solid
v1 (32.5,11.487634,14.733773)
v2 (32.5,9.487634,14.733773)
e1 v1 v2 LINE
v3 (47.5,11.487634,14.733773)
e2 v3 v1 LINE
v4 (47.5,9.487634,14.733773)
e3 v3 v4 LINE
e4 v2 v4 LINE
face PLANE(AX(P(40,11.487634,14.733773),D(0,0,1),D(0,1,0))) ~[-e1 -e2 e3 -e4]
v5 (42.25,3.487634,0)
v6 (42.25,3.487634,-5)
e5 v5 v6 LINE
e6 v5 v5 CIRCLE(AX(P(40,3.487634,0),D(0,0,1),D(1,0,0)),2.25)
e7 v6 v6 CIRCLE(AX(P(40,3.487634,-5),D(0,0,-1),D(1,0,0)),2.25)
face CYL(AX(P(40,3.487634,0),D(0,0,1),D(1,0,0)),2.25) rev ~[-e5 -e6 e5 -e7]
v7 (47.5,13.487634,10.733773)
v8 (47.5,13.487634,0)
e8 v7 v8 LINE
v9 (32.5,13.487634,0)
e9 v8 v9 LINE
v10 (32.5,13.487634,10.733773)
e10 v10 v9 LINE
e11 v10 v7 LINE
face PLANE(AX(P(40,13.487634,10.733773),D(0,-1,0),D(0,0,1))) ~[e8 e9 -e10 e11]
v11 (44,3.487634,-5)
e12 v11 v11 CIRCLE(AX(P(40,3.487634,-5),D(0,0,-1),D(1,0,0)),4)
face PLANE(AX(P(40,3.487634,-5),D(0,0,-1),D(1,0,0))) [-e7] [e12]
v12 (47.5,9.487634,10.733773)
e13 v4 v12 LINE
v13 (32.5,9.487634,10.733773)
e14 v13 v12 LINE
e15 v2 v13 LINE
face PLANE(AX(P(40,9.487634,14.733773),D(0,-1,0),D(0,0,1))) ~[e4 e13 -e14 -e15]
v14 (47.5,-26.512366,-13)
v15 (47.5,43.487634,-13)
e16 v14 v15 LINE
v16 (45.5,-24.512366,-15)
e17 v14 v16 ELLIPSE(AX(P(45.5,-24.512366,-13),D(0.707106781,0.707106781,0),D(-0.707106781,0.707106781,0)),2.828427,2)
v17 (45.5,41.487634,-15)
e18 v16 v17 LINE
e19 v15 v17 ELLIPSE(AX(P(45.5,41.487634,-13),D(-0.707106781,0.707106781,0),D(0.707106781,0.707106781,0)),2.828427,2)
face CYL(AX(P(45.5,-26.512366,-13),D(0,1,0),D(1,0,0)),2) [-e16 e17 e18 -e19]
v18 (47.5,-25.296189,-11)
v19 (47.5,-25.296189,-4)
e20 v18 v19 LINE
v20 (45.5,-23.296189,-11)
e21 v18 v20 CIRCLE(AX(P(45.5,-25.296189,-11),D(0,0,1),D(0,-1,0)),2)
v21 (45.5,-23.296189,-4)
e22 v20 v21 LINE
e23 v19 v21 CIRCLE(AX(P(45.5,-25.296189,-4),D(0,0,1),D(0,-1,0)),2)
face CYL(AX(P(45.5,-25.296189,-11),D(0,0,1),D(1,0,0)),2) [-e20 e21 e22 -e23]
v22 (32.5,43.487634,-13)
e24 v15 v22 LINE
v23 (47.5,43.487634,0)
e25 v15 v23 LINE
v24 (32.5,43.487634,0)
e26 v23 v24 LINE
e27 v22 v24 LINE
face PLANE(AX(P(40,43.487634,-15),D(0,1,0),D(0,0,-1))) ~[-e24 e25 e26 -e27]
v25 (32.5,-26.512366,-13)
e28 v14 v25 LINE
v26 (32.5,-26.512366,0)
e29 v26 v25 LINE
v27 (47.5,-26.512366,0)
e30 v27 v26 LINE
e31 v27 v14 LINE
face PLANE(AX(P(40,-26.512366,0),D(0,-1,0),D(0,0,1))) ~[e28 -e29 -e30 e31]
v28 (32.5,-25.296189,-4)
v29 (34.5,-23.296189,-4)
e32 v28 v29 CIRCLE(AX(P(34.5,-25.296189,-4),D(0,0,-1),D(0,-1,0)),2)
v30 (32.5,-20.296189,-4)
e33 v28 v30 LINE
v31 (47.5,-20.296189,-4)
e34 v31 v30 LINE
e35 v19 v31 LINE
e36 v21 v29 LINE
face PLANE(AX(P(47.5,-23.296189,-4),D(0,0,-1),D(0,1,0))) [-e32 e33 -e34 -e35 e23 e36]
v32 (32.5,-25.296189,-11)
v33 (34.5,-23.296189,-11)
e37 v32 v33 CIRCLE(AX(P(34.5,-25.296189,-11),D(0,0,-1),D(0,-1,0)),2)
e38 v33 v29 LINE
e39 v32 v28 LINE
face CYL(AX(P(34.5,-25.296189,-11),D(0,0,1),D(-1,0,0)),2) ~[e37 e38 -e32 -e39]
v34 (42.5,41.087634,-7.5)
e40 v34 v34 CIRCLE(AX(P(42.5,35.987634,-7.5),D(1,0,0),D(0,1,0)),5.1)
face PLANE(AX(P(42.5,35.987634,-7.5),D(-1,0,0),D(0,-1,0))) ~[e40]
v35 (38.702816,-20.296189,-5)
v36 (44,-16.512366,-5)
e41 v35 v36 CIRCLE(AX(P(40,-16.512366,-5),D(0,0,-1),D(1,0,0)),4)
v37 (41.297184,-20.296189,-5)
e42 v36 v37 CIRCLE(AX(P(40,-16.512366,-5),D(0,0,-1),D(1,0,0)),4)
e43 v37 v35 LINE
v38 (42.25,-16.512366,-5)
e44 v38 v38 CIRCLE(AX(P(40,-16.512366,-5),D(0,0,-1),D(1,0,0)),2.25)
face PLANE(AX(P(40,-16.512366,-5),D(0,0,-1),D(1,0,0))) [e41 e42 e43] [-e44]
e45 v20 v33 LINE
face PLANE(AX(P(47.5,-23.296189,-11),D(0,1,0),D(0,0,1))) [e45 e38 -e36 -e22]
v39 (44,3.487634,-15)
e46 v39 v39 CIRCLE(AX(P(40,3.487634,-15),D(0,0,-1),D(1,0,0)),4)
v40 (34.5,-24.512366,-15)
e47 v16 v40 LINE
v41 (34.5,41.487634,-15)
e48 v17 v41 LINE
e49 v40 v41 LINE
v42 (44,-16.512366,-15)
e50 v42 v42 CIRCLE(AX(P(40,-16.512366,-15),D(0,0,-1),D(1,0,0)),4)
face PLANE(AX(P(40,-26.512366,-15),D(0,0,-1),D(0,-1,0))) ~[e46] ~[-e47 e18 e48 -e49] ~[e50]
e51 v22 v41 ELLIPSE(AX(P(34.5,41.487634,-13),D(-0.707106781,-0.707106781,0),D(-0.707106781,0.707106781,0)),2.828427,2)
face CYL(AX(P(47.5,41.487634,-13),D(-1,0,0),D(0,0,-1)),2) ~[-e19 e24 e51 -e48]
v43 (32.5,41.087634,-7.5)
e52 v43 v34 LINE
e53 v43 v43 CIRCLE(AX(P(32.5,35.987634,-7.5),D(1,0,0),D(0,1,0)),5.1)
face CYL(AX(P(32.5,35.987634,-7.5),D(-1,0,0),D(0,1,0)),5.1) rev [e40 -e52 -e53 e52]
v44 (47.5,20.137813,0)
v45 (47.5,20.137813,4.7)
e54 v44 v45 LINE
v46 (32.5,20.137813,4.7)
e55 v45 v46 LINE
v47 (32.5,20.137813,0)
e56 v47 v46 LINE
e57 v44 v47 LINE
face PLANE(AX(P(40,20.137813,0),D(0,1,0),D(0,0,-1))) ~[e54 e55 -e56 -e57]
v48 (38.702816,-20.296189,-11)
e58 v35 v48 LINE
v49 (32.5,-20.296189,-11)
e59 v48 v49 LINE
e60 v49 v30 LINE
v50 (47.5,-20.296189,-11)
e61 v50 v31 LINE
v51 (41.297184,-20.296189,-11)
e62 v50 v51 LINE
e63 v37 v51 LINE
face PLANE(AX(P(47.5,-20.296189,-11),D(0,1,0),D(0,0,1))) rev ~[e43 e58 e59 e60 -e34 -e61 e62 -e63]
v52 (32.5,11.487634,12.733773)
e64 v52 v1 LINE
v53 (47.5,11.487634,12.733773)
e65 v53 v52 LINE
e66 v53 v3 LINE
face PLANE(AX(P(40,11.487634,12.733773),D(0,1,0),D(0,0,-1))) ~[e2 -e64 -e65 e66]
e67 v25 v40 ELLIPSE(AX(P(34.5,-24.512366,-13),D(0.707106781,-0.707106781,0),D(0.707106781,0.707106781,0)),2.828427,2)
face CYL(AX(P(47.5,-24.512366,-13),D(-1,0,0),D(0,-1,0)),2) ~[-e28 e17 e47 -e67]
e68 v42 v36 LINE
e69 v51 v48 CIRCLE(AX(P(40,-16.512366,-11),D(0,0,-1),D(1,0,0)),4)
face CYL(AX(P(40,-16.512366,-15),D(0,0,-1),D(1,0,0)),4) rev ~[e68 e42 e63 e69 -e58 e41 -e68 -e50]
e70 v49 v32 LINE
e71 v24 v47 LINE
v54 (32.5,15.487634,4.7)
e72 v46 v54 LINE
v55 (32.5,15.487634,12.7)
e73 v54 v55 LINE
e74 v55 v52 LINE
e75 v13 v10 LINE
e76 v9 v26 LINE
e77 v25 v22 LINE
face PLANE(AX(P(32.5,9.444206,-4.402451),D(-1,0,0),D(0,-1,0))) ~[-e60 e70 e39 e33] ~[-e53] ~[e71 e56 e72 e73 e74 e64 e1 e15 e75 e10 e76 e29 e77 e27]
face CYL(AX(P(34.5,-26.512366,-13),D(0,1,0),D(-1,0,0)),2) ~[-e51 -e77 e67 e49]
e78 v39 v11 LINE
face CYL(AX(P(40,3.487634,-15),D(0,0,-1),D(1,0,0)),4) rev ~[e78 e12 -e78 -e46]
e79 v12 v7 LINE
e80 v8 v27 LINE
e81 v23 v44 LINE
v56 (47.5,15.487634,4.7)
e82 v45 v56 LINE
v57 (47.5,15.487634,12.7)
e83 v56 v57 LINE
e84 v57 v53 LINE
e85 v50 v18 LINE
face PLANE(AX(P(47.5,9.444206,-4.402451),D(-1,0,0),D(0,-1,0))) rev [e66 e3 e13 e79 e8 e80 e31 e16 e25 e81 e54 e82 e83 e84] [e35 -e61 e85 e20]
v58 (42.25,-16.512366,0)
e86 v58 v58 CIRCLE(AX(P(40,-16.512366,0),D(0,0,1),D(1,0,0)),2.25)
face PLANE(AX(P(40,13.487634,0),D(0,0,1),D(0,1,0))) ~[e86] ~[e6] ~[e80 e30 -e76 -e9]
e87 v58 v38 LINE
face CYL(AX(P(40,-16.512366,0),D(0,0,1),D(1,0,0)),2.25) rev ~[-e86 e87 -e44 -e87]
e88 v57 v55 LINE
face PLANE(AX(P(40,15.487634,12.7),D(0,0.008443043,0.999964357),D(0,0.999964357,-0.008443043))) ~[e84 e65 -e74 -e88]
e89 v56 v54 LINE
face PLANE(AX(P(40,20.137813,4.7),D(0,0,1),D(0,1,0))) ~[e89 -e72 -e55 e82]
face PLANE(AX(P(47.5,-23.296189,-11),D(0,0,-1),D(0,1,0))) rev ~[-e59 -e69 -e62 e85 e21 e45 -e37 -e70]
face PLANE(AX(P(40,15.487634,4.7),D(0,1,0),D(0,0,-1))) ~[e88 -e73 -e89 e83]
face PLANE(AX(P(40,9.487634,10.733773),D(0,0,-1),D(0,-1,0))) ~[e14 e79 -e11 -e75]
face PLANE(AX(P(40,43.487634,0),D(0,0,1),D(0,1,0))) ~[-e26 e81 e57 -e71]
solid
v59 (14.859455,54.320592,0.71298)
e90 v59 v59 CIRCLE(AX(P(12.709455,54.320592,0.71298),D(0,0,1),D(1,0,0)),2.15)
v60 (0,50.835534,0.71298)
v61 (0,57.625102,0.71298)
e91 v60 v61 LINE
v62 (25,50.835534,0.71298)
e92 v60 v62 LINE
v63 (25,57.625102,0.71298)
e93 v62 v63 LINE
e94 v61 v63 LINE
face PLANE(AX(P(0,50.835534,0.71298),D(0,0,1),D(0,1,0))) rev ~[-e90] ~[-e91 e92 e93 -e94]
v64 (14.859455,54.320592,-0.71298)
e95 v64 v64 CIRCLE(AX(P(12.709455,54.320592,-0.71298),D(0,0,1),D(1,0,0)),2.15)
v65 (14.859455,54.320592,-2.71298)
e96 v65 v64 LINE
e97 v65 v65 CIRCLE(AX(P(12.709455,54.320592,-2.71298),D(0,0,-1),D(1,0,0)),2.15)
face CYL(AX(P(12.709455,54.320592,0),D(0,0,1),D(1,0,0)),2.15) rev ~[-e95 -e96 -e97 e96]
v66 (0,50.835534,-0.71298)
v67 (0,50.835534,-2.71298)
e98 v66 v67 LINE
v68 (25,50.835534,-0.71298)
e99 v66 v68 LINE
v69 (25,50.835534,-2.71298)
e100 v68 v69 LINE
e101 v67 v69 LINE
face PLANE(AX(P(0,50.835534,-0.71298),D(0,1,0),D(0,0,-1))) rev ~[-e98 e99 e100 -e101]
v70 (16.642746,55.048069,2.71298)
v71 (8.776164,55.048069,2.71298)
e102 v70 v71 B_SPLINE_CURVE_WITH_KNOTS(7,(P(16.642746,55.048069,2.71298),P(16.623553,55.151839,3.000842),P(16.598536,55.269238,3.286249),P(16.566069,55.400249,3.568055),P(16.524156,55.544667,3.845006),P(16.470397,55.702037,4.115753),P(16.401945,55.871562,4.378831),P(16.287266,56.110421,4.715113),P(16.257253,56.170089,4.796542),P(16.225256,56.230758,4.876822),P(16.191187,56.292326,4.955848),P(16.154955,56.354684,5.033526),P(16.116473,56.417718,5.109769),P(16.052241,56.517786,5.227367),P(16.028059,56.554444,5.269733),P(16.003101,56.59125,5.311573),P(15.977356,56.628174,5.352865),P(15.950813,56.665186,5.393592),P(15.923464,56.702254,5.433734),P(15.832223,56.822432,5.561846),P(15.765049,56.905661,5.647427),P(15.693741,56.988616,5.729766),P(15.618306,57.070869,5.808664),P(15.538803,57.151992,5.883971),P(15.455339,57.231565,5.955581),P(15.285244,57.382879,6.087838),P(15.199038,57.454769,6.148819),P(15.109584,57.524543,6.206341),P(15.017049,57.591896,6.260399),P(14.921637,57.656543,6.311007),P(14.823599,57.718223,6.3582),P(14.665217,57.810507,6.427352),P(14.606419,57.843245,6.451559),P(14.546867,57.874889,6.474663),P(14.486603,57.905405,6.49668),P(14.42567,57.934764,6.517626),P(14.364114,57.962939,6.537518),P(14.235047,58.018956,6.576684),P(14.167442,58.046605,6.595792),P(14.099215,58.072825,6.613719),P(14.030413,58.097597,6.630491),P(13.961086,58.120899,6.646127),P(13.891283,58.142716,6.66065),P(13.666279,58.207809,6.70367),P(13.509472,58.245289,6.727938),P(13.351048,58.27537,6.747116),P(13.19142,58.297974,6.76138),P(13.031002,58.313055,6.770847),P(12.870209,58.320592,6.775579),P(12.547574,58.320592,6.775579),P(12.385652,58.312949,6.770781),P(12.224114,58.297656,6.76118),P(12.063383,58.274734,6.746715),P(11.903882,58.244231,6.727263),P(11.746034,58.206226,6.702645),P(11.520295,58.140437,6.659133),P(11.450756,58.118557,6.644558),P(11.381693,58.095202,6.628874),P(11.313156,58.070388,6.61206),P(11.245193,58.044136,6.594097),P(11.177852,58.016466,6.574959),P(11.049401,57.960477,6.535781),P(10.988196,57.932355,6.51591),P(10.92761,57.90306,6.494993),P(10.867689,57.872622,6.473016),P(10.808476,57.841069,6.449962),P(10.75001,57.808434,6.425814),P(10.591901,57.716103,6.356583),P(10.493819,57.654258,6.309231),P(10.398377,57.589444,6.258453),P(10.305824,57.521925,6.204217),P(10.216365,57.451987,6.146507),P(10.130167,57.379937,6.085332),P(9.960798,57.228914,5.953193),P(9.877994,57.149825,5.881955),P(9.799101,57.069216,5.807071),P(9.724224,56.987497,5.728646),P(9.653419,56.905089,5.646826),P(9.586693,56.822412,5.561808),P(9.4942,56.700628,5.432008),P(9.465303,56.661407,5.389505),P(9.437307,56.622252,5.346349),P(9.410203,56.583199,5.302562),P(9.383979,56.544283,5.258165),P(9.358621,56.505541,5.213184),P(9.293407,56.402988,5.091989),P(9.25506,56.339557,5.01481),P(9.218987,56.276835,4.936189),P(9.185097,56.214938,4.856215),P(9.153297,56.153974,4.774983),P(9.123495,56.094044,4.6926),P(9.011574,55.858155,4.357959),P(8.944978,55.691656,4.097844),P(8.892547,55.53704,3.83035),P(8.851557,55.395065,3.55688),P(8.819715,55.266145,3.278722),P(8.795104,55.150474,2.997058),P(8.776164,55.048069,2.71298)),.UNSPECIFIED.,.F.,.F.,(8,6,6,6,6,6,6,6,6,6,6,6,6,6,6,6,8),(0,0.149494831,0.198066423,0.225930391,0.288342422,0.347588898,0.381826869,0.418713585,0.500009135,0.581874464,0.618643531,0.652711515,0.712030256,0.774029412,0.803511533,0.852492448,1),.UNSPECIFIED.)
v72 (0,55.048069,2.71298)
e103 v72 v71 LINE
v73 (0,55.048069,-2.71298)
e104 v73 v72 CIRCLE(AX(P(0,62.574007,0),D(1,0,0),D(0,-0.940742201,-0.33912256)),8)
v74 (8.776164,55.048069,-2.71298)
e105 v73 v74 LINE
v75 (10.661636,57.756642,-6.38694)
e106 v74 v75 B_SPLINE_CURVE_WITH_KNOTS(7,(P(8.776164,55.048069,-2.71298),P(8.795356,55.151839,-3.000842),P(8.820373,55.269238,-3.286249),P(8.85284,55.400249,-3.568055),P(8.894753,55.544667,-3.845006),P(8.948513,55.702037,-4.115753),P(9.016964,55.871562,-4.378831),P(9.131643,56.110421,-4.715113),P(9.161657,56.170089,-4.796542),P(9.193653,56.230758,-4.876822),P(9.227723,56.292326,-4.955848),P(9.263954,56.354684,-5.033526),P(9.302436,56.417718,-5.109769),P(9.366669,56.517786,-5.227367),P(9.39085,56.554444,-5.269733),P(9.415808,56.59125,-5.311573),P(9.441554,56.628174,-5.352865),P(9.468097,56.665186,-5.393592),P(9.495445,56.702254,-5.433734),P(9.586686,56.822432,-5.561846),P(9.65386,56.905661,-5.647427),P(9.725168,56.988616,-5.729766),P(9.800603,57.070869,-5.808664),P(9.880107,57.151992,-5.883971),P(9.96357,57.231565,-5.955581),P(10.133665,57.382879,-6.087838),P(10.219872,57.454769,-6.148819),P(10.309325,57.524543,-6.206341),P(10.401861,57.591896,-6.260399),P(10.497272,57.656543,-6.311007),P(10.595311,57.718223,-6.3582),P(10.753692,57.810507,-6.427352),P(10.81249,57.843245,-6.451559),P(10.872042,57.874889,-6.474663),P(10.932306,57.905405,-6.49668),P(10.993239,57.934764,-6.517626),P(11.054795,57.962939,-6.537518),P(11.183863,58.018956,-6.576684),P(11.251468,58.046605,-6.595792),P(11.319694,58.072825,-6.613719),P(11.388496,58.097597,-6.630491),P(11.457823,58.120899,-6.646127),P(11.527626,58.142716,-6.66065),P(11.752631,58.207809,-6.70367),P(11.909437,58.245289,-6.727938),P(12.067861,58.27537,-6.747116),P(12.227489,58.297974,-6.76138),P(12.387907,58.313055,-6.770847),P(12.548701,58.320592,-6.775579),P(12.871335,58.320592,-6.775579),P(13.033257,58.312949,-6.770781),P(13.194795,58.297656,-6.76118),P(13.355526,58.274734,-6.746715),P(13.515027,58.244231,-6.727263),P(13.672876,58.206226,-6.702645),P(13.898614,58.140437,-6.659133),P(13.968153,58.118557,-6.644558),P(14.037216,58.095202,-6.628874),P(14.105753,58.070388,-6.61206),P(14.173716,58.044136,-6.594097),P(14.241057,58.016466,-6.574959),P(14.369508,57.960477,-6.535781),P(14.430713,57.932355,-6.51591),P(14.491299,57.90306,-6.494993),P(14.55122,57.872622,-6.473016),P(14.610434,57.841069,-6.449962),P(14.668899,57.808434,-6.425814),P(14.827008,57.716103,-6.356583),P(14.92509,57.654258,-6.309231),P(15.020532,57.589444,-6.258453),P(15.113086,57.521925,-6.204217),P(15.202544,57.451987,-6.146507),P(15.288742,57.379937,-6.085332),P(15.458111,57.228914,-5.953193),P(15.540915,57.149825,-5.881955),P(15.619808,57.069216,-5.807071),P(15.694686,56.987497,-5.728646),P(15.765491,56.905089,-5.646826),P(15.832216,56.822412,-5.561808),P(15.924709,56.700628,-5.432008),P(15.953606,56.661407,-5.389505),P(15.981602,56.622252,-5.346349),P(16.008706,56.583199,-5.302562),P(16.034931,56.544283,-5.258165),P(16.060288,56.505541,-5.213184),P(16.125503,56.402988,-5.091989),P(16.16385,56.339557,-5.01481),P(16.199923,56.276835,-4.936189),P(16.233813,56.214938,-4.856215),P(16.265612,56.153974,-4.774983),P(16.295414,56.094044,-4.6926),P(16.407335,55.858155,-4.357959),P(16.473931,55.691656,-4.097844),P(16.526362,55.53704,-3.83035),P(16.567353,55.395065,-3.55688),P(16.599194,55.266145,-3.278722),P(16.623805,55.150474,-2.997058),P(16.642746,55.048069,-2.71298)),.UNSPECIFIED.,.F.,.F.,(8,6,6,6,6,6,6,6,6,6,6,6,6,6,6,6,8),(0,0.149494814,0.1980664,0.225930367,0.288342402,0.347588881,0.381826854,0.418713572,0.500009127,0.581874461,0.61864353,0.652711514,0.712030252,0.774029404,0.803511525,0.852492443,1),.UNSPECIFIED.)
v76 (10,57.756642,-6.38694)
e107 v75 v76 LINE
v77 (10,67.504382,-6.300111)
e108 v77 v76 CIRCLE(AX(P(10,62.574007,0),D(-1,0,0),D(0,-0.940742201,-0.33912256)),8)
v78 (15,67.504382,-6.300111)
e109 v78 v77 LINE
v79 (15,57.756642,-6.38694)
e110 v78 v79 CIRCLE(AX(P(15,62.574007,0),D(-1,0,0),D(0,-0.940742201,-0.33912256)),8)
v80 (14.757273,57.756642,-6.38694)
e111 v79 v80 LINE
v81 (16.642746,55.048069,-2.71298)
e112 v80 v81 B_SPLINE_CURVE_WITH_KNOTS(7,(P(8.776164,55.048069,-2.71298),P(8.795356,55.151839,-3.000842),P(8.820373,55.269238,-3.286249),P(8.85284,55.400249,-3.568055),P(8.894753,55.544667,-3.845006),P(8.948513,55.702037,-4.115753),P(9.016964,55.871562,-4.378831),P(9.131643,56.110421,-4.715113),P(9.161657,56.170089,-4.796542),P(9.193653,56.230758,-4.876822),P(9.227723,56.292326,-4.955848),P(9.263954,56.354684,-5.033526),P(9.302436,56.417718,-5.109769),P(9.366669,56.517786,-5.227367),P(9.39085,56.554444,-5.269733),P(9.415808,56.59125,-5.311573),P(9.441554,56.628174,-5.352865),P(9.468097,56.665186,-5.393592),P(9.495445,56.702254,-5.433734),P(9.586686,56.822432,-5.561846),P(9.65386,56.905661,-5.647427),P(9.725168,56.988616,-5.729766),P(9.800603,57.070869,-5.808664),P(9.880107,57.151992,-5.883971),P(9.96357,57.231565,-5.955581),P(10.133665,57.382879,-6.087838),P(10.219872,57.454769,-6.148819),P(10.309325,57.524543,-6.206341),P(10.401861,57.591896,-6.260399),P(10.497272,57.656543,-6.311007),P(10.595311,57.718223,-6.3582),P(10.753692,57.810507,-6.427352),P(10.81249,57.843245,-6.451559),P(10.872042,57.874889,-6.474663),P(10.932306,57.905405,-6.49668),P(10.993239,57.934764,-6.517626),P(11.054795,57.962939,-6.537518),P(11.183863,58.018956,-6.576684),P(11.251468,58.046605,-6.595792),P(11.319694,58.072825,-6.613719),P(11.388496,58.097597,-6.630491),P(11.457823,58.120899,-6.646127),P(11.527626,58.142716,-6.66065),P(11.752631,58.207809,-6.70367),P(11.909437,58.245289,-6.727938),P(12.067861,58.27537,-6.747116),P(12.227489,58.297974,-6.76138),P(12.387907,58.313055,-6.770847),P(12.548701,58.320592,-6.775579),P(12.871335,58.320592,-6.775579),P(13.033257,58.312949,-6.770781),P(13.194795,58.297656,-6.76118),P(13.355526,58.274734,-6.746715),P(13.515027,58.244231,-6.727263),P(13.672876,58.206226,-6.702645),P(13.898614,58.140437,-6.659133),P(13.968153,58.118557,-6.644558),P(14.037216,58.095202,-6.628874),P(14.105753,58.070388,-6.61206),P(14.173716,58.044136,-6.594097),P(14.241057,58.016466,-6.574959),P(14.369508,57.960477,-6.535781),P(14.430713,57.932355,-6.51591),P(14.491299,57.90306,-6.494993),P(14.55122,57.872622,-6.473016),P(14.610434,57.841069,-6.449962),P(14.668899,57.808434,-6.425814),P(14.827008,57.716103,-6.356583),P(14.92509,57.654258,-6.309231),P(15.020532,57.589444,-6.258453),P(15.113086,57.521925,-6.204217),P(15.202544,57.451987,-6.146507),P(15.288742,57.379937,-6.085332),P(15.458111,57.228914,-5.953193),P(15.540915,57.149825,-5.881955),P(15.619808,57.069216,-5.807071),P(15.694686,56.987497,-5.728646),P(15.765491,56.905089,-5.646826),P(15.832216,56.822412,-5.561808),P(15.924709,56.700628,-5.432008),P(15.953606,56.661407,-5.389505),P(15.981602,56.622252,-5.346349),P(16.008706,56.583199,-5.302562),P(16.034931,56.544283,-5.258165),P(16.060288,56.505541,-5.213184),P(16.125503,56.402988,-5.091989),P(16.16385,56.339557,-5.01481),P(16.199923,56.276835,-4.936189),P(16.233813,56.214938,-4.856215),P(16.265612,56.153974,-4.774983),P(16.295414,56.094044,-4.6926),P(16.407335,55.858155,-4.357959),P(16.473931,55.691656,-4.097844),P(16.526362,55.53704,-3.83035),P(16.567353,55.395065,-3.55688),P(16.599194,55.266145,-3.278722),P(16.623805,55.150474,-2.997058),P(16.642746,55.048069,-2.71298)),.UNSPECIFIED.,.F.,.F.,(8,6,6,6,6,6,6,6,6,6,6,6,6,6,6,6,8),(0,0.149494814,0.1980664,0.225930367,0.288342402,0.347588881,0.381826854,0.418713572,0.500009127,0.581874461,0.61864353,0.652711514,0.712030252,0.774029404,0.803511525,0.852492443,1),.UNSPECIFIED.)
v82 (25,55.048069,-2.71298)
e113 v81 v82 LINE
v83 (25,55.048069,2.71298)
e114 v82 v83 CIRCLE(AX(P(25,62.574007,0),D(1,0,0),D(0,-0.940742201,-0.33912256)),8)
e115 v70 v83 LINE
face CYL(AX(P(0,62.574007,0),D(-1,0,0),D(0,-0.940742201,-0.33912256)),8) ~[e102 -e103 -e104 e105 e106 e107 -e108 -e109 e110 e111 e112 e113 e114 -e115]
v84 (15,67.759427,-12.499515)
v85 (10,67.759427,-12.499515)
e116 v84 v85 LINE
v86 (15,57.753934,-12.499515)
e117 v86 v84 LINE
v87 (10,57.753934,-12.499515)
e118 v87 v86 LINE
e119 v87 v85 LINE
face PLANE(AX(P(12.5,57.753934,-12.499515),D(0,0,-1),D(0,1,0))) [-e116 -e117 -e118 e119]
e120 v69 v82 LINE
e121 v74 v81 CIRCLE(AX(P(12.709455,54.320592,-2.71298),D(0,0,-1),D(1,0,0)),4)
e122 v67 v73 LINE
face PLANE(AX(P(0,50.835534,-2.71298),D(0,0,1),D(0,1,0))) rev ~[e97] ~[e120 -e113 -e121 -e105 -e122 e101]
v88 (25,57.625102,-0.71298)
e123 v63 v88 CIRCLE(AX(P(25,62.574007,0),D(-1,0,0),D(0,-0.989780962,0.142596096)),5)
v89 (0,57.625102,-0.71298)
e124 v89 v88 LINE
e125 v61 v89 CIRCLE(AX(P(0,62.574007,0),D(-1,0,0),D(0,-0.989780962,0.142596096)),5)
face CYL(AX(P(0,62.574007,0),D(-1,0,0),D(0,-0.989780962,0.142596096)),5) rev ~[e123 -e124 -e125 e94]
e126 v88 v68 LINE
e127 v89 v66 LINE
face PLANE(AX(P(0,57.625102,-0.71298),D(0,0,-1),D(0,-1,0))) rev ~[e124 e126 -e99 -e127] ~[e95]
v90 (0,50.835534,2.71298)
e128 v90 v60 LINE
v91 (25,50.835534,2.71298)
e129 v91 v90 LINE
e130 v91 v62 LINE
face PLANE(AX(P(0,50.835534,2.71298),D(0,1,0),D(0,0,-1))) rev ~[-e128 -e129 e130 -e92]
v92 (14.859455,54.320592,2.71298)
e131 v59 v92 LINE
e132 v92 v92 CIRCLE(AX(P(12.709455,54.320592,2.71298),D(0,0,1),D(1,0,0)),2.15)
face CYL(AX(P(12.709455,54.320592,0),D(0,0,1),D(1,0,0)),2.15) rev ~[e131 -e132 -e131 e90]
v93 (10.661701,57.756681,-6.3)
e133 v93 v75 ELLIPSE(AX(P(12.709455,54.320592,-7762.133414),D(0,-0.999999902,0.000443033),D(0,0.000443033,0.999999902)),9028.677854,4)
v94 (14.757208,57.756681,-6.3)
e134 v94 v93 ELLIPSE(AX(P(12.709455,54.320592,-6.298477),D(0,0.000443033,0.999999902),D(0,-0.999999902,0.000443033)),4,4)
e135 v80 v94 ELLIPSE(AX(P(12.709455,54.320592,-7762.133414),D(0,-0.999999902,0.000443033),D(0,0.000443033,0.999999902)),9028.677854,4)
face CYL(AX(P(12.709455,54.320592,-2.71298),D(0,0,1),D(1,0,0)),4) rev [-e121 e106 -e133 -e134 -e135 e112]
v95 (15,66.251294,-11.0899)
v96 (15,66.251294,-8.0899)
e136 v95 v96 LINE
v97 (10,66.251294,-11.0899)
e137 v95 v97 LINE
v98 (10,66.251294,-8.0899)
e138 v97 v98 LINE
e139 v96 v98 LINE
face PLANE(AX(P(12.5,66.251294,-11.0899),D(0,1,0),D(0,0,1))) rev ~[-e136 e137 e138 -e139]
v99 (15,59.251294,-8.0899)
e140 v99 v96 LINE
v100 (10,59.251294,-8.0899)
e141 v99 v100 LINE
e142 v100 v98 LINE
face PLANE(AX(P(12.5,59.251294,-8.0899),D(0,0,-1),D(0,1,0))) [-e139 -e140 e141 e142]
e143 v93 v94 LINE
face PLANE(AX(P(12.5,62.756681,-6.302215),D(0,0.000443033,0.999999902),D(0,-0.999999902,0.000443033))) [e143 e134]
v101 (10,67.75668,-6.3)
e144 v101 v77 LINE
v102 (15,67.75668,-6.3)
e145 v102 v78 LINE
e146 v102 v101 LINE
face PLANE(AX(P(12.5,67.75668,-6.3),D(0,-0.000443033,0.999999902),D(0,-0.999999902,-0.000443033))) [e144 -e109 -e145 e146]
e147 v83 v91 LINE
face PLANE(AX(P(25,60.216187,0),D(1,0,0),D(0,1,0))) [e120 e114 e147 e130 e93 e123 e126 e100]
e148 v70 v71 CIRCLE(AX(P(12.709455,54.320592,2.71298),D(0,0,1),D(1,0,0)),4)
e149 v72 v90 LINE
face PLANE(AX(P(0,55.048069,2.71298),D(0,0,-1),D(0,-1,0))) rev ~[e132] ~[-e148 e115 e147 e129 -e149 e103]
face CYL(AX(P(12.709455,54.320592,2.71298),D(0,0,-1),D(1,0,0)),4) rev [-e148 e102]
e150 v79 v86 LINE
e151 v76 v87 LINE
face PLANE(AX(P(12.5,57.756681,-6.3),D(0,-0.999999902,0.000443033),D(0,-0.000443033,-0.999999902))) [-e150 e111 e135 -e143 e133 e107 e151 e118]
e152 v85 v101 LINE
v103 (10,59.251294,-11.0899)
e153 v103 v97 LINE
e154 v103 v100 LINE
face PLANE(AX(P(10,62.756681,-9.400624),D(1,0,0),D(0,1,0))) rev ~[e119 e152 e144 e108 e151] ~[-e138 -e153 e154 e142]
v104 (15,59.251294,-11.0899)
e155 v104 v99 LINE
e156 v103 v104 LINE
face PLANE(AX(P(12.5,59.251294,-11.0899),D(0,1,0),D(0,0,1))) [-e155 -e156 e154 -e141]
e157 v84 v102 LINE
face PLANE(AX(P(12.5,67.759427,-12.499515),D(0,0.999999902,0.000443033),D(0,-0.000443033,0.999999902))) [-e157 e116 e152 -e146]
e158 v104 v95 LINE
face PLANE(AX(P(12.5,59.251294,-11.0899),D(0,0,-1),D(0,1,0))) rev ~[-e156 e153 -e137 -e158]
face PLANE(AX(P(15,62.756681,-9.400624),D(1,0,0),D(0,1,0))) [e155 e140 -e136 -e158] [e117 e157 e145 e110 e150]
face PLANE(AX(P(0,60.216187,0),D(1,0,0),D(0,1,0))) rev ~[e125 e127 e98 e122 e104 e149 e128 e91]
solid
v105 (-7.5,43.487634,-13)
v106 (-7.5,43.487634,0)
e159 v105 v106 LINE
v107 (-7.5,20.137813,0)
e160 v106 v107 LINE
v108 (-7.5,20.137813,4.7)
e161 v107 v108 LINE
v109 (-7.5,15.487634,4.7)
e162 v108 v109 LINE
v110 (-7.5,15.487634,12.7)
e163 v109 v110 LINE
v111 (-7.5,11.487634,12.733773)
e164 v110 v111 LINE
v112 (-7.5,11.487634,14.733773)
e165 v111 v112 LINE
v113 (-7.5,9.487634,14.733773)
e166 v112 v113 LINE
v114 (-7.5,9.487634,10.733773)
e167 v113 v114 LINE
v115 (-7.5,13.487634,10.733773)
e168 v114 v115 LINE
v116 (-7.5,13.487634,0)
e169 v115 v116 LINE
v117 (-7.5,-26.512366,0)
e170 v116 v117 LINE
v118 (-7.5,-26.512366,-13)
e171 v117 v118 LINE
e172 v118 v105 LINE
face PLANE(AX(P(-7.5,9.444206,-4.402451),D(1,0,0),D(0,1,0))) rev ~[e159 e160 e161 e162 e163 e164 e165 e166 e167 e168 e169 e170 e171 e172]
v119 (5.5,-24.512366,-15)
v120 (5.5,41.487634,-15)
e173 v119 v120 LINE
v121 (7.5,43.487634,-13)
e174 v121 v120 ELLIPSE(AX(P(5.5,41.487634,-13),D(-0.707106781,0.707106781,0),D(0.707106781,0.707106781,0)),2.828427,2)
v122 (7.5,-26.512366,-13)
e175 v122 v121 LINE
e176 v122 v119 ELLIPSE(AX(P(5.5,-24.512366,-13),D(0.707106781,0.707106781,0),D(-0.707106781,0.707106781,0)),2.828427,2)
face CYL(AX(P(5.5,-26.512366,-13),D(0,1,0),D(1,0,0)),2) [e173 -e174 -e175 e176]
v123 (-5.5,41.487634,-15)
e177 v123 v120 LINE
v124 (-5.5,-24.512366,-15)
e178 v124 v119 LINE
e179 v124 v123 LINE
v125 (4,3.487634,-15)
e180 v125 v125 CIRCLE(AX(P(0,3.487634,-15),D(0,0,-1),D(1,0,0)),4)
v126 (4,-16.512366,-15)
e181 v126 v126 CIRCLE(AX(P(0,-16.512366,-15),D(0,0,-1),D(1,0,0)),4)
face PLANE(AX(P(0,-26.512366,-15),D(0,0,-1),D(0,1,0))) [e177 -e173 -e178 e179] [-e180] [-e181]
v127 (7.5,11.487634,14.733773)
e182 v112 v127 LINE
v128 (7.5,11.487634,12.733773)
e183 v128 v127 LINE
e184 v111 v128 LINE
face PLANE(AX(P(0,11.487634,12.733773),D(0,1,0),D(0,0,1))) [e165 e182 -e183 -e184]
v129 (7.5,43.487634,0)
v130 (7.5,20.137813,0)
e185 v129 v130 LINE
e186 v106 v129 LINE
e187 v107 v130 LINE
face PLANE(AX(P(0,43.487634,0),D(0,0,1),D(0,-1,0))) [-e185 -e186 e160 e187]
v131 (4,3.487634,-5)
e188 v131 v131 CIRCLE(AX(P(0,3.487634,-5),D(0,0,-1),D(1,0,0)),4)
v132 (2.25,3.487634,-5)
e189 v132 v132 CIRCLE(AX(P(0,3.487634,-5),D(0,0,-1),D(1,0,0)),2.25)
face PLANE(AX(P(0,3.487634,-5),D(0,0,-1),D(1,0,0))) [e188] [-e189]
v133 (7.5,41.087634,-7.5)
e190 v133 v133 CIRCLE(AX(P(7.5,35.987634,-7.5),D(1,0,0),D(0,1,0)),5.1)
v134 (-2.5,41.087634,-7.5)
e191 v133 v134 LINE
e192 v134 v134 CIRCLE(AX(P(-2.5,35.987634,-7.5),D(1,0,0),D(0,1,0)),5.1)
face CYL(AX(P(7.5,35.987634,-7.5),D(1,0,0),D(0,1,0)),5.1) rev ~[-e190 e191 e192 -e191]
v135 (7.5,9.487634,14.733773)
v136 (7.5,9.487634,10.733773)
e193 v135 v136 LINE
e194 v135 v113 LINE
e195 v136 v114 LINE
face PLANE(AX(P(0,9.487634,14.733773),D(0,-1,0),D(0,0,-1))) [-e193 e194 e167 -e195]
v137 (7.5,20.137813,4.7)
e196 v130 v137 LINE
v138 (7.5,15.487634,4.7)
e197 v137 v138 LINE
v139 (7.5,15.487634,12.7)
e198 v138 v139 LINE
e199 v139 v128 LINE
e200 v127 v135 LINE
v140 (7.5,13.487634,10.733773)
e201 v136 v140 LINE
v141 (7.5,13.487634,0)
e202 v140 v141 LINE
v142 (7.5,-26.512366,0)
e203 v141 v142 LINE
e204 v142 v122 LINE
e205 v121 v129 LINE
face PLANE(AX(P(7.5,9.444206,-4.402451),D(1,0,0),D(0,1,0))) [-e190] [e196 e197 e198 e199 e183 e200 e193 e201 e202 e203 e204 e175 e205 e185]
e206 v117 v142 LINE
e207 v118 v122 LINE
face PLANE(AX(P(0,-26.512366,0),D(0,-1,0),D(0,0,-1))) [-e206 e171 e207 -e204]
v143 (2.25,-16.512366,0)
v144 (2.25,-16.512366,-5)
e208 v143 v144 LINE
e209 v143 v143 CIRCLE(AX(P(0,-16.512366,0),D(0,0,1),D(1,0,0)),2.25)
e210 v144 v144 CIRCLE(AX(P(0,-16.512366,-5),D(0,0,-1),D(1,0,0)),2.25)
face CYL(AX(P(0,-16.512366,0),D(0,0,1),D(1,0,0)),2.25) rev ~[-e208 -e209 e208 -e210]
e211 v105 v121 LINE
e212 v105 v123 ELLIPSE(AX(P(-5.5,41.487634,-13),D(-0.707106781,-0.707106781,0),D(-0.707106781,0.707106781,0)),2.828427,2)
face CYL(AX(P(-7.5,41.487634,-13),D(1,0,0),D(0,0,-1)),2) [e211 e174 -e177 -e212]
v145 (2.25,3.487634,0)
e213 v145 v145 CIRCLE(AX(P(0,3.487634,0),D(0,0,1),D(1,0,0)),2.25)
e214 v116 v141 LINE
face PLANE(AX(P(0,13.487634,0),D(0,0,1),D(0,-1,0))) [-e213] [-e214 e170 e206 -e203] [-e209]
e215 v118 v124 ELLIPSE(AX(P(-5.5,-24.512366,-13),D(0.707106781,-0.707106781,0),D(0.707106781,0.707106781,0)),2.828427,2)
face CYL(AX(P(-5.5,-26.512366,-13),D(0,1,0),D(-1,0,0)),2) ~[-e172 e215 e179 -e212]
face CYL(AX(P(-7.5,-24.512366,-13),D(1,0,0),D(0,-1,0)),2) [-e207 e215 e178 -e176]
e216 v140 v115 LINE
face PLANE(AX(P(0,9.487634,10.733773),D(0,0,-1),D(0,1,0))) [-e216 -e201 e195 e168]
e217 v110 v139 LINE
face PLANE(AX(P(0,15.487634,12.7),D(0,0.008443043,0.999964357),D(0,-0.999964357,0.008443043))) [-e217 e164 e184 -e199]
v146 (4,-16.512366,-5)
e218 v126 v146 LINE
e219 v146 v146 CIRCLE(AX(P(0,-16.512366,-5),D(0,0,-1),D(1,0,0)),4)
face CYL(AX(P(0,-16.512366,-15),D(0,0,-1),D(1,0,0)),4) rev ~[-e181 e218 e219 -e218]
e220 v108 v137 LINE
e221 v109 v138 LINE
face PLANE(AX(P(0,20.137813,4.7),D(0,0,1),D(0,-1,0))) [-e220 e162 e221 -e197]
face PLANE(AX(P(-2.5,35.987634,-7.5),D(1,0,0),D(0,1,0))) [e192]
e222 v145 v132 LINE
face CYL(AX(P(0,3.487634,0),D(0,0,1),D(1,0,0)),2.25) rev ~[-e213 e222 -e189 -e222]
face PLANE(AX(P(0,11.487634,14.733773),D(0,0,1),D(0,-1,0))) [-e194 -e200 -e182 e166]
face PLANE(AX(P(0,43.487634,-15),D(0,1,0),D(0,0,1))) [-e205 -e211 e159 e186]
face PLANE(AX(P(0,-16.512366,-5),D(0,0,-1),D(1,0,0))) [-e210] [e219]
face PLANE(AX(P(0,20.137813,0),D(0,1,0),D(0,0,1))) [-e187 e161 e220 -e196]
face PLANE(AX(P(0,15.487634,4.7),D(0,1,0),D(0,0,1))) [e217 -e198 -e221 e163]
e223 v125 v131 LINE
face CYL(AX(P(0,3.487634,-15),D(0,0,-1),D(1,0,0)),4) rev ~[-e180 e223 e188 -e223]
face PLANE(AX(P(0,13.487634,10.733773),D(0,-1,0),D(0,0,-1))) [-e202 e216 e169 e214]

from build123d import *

# Parameters (mm, degrees)
F2_DEPTH  = 7.5
F3_R      = 5.1
F4_DEPTH  = 10
F7_W      = 3
F7_H      = 7
F8_DEPTH  = 15
F9_R      = 2
F9_2_R    = 2
F10_R     = 2.25
F11_DEPTH = 15
F12_R     = 2.25
F13_DEPTH = 15
F14_R     = 4
F14_R_2   = 2.25
F15_DEPTH = 10
F16_R     = 4
F16_R_2   = 2.25
F17_DEPTH = 10
F19_DEPTH = 25
F20_R     = 2.15
F21_DEPTH = 12.5
F22_R     = 4
F23_DEPTH = 25
F24_R     = 4
F25_DEPTH = 25
F27_W     = 7
F27_H     = 3
F28_DEPTH = 2.5


with BuildPart() as f2:
    # F1 (on Right) → F2 (new body, symmetric)
    with BuildSketch(Plane.YZ):
        Polygon((13.4876342118, 10.7337733775), (13.4876342118, 0), (-26.5123657882, 0), (-26.5123657882, -15), (18.4876342118, -15), (43.4876342118, -15), (43.4876342118, 0), (20.1378133701, 0), (20.1378133701, 4.7), (15.4876342118, 4.7), (15.4876342118, 12.7), (11.4876342118, 12.7337733775), (11.4876342118, 14.7337733775), (9.4876342118, 14.7337733775), (9.4876342118, 10.7337733775), align=None)
    extrude(amount=F2_DEPTH, both=True)

    # F3 (on face) → F4 (cut)
    with BuildSketch(Plane.YZ.offset(7.5)):
        with Locations((35.9876342118, -7.5)):
            Circle(F3_R)
    extrude(amount=-F4_DEPTH, mode=Mode.SUBTRACT)


with BuildPart() as f6_1:
    # F6: instance of F2
    add(f2.part.mirror(Plane.YZ.offset(20)))

    # F7 (on face) → F8 (cut, through all)
    with BuildSketch(Plane.YZ.offset(47.5)):
        with Locations((-21.7961885631, -7.5)):
            Rectangle(F7_W, F7_H)
    extrude(amount=-F8_DEPTH, mode=Mode.SUBTRACT)

    # F9
    f9_edges = [f6_1.edges().sort_by_distance(p)[0] for p in [
        (47.5, -23.296189, -7.5),
        (32.5, -23.296189, -7.5),
        (32.5, 8.487634, -15),
        (47.5, 8.487634, -15),
        (40, -26.512366, -15),
        (40, 43.487634, -15),
    ]]
    fillet(f9_edges, radius=F9_R)

    # F12 (on face) → F13 (cut, through all)
    with BuildSketch(Plane.XY):
        with Locations((40, 3.4876342118)):
            Circle(F12_R)
        with Locations((40, -16.5123657882)):
            Circle(F12_R)
    extrude(amount=-F13_DEPTH, mode=Mode.SUBTRACT)

    # F14 (on face) → F15 (cut)
    with BuildSketch(Plane(origin=(0, 0, -15), x_dir=(1, 0, 0), z_dir=(0, 0, -1))):
        with Locations((40, -3.4876342116)):
            Circle(F14_R)
        with Locations((40, -3.4876342118)):
            Circle(F14_R_2, mode=Mode.SUBTRACT)
        with Locations((40, 16.5123657884)):
            Circle(F14_R)
        with Locations((40, 16.5123657882)):
            Circle(F14_R_2, mode=Mode.SUBTRACT)
    extrude(amount=-F15_DEPTH, mode=Mode.SUBTRACT)


with BuildPart() as f2_1:
    add(f2.part)

    # F9#2
    f9_2_edges = [f2_1.edges().sort_by_distance(p)[0] for p in [
        (-7.5, 8.487634, -15),
        (7.5, 8.487634, -15),
        (0, -26.512366, -15),
        (0, 43.487634, -15),
    ]]
    fillet(f9_2_edges, radius=F9_2_R)

    # F10 (on face) → F11 (cut, through all)
    with BuildSketch(Plane.XY):
        with Locations((0, 3.4876342118)):
            Circle(F10_R)
        with Locations((0, -16.5123657882)):
            Circle(F10_R)
    extrude(amount=-F11_DEPTH, mode=Mode.SUBTRACT)

    # F16 (on face) → F17 (cut)
    with BuildSketch(Plane(origin=(0, 0, -15), x_dir=(1, 0, 0), z_dir=(0, 0, -1))):
        with Locations((0, -3.4876342116)):
            Circle(F16_R)
        with Locations((0, -3.4876342118)):
            Circle(F16_R_2, mode=Mode.SUBTRACT)
        with Locations((0, 16.5123657884)):
            Circle(F16_R)
        with Locations((0, 16.5123657882)):
            Circle(F16_R_2, mode=Mode.SUBTRACT)
    extrude(amount=-F17_DEPTH, mode=Mode.SUBTRACT)


with BuildPart() as f19:
    # F18 (on Right) → F19 (new body)
    with BuildSketch(Plane.YZ):
        with BuildLine():
            ThreePointArc((57.6251018052, 0.7129804788), (67.5740066171, 0), (57.6251018052, -0.7129804788))
            Line((57.6251018052, -0.7129804788), (54.6058412801, -0.7129804788))
            Line((54.6058412801, -0.7129804788), (50.8355336492, -0.7129804788))
            Line((50.8355336492, -0.7129804788), (50.8355336492, -2.7129804788))
            Line((50.8355336492, -2.7129804788), (55.0480690063, -2.7129804788))
            ThreePointArc((55.0480690063, -2.7129804788), (70.5740066171, 0), (55.0480690063, 2.7129804788))
            Line((55.0480690063, 2.7129804788), (50.8355336492, 2.7129804788))
            Line((50.8355336492, 2.7129804788), (50.8355336492, 0.7129804788))
            Line((50.8355336492, 0.7129804788), (54.6058412801, 0.7129804788))
            Line((54.6058412801, 0.7129804788), (57.6251018052, 0.7129804788))
        make_face()
    extrude(amount=F19_DEPTH)

    # F20 (on Top) → F21 (cut, symmetric)
    with BuildSketch(Plane.XY):
        with Locations((12.7094546333, 54.3205924332)):
            Circle(F20_R)
    extrude(amount=F21_DEPTH, both=True, mode=Mode.SUBTRACT)

    # F22 (on face) → F23 (cut)
    with BuildSketch(Plane(origin=(0, 0, -2.7129804788), x_dir=(1, 0, 0), z_dir=(0, 0, -1))):
        with Locations((12.7094546333, -54.3205924332)):
            Circle(F22_R)
    extrude(amount=F23_DEPTH, mode=Mode.SUBTRACT)

    # F24 (on face) → F25 (cut)
    with BuildSketch(Plane.XY.offset(2.7129804788)):
        with Locations((12.7094546333, 54.3205924332)):
            Circle(F24_R)
    extrude(amount=F25_DEPTH, mode=Mode.SUBTRACT)

    # F27 (on offset) → F28 (join, symmetric)
    with BuildSketch(Plane.YZ.offset(12.5)):
        Polygon((62.7566805045, -6.3022147063), (57.7566809952, -6.2999995425), (57.7539344066, -12.4995148507), (67.7594266024, -12.4995148507), (67.7566800138, -6.2999995425), align=None)
        with Locations((62.7512938596, -9.5898995645)):
            Rectangle(F27_W, F27_H, mode=Mode.SUBTRACT)
    extrude(amount=F28_DEPTH, both=True)


solid = Compound([f6_1.part, f2_1.part, f19.part])
